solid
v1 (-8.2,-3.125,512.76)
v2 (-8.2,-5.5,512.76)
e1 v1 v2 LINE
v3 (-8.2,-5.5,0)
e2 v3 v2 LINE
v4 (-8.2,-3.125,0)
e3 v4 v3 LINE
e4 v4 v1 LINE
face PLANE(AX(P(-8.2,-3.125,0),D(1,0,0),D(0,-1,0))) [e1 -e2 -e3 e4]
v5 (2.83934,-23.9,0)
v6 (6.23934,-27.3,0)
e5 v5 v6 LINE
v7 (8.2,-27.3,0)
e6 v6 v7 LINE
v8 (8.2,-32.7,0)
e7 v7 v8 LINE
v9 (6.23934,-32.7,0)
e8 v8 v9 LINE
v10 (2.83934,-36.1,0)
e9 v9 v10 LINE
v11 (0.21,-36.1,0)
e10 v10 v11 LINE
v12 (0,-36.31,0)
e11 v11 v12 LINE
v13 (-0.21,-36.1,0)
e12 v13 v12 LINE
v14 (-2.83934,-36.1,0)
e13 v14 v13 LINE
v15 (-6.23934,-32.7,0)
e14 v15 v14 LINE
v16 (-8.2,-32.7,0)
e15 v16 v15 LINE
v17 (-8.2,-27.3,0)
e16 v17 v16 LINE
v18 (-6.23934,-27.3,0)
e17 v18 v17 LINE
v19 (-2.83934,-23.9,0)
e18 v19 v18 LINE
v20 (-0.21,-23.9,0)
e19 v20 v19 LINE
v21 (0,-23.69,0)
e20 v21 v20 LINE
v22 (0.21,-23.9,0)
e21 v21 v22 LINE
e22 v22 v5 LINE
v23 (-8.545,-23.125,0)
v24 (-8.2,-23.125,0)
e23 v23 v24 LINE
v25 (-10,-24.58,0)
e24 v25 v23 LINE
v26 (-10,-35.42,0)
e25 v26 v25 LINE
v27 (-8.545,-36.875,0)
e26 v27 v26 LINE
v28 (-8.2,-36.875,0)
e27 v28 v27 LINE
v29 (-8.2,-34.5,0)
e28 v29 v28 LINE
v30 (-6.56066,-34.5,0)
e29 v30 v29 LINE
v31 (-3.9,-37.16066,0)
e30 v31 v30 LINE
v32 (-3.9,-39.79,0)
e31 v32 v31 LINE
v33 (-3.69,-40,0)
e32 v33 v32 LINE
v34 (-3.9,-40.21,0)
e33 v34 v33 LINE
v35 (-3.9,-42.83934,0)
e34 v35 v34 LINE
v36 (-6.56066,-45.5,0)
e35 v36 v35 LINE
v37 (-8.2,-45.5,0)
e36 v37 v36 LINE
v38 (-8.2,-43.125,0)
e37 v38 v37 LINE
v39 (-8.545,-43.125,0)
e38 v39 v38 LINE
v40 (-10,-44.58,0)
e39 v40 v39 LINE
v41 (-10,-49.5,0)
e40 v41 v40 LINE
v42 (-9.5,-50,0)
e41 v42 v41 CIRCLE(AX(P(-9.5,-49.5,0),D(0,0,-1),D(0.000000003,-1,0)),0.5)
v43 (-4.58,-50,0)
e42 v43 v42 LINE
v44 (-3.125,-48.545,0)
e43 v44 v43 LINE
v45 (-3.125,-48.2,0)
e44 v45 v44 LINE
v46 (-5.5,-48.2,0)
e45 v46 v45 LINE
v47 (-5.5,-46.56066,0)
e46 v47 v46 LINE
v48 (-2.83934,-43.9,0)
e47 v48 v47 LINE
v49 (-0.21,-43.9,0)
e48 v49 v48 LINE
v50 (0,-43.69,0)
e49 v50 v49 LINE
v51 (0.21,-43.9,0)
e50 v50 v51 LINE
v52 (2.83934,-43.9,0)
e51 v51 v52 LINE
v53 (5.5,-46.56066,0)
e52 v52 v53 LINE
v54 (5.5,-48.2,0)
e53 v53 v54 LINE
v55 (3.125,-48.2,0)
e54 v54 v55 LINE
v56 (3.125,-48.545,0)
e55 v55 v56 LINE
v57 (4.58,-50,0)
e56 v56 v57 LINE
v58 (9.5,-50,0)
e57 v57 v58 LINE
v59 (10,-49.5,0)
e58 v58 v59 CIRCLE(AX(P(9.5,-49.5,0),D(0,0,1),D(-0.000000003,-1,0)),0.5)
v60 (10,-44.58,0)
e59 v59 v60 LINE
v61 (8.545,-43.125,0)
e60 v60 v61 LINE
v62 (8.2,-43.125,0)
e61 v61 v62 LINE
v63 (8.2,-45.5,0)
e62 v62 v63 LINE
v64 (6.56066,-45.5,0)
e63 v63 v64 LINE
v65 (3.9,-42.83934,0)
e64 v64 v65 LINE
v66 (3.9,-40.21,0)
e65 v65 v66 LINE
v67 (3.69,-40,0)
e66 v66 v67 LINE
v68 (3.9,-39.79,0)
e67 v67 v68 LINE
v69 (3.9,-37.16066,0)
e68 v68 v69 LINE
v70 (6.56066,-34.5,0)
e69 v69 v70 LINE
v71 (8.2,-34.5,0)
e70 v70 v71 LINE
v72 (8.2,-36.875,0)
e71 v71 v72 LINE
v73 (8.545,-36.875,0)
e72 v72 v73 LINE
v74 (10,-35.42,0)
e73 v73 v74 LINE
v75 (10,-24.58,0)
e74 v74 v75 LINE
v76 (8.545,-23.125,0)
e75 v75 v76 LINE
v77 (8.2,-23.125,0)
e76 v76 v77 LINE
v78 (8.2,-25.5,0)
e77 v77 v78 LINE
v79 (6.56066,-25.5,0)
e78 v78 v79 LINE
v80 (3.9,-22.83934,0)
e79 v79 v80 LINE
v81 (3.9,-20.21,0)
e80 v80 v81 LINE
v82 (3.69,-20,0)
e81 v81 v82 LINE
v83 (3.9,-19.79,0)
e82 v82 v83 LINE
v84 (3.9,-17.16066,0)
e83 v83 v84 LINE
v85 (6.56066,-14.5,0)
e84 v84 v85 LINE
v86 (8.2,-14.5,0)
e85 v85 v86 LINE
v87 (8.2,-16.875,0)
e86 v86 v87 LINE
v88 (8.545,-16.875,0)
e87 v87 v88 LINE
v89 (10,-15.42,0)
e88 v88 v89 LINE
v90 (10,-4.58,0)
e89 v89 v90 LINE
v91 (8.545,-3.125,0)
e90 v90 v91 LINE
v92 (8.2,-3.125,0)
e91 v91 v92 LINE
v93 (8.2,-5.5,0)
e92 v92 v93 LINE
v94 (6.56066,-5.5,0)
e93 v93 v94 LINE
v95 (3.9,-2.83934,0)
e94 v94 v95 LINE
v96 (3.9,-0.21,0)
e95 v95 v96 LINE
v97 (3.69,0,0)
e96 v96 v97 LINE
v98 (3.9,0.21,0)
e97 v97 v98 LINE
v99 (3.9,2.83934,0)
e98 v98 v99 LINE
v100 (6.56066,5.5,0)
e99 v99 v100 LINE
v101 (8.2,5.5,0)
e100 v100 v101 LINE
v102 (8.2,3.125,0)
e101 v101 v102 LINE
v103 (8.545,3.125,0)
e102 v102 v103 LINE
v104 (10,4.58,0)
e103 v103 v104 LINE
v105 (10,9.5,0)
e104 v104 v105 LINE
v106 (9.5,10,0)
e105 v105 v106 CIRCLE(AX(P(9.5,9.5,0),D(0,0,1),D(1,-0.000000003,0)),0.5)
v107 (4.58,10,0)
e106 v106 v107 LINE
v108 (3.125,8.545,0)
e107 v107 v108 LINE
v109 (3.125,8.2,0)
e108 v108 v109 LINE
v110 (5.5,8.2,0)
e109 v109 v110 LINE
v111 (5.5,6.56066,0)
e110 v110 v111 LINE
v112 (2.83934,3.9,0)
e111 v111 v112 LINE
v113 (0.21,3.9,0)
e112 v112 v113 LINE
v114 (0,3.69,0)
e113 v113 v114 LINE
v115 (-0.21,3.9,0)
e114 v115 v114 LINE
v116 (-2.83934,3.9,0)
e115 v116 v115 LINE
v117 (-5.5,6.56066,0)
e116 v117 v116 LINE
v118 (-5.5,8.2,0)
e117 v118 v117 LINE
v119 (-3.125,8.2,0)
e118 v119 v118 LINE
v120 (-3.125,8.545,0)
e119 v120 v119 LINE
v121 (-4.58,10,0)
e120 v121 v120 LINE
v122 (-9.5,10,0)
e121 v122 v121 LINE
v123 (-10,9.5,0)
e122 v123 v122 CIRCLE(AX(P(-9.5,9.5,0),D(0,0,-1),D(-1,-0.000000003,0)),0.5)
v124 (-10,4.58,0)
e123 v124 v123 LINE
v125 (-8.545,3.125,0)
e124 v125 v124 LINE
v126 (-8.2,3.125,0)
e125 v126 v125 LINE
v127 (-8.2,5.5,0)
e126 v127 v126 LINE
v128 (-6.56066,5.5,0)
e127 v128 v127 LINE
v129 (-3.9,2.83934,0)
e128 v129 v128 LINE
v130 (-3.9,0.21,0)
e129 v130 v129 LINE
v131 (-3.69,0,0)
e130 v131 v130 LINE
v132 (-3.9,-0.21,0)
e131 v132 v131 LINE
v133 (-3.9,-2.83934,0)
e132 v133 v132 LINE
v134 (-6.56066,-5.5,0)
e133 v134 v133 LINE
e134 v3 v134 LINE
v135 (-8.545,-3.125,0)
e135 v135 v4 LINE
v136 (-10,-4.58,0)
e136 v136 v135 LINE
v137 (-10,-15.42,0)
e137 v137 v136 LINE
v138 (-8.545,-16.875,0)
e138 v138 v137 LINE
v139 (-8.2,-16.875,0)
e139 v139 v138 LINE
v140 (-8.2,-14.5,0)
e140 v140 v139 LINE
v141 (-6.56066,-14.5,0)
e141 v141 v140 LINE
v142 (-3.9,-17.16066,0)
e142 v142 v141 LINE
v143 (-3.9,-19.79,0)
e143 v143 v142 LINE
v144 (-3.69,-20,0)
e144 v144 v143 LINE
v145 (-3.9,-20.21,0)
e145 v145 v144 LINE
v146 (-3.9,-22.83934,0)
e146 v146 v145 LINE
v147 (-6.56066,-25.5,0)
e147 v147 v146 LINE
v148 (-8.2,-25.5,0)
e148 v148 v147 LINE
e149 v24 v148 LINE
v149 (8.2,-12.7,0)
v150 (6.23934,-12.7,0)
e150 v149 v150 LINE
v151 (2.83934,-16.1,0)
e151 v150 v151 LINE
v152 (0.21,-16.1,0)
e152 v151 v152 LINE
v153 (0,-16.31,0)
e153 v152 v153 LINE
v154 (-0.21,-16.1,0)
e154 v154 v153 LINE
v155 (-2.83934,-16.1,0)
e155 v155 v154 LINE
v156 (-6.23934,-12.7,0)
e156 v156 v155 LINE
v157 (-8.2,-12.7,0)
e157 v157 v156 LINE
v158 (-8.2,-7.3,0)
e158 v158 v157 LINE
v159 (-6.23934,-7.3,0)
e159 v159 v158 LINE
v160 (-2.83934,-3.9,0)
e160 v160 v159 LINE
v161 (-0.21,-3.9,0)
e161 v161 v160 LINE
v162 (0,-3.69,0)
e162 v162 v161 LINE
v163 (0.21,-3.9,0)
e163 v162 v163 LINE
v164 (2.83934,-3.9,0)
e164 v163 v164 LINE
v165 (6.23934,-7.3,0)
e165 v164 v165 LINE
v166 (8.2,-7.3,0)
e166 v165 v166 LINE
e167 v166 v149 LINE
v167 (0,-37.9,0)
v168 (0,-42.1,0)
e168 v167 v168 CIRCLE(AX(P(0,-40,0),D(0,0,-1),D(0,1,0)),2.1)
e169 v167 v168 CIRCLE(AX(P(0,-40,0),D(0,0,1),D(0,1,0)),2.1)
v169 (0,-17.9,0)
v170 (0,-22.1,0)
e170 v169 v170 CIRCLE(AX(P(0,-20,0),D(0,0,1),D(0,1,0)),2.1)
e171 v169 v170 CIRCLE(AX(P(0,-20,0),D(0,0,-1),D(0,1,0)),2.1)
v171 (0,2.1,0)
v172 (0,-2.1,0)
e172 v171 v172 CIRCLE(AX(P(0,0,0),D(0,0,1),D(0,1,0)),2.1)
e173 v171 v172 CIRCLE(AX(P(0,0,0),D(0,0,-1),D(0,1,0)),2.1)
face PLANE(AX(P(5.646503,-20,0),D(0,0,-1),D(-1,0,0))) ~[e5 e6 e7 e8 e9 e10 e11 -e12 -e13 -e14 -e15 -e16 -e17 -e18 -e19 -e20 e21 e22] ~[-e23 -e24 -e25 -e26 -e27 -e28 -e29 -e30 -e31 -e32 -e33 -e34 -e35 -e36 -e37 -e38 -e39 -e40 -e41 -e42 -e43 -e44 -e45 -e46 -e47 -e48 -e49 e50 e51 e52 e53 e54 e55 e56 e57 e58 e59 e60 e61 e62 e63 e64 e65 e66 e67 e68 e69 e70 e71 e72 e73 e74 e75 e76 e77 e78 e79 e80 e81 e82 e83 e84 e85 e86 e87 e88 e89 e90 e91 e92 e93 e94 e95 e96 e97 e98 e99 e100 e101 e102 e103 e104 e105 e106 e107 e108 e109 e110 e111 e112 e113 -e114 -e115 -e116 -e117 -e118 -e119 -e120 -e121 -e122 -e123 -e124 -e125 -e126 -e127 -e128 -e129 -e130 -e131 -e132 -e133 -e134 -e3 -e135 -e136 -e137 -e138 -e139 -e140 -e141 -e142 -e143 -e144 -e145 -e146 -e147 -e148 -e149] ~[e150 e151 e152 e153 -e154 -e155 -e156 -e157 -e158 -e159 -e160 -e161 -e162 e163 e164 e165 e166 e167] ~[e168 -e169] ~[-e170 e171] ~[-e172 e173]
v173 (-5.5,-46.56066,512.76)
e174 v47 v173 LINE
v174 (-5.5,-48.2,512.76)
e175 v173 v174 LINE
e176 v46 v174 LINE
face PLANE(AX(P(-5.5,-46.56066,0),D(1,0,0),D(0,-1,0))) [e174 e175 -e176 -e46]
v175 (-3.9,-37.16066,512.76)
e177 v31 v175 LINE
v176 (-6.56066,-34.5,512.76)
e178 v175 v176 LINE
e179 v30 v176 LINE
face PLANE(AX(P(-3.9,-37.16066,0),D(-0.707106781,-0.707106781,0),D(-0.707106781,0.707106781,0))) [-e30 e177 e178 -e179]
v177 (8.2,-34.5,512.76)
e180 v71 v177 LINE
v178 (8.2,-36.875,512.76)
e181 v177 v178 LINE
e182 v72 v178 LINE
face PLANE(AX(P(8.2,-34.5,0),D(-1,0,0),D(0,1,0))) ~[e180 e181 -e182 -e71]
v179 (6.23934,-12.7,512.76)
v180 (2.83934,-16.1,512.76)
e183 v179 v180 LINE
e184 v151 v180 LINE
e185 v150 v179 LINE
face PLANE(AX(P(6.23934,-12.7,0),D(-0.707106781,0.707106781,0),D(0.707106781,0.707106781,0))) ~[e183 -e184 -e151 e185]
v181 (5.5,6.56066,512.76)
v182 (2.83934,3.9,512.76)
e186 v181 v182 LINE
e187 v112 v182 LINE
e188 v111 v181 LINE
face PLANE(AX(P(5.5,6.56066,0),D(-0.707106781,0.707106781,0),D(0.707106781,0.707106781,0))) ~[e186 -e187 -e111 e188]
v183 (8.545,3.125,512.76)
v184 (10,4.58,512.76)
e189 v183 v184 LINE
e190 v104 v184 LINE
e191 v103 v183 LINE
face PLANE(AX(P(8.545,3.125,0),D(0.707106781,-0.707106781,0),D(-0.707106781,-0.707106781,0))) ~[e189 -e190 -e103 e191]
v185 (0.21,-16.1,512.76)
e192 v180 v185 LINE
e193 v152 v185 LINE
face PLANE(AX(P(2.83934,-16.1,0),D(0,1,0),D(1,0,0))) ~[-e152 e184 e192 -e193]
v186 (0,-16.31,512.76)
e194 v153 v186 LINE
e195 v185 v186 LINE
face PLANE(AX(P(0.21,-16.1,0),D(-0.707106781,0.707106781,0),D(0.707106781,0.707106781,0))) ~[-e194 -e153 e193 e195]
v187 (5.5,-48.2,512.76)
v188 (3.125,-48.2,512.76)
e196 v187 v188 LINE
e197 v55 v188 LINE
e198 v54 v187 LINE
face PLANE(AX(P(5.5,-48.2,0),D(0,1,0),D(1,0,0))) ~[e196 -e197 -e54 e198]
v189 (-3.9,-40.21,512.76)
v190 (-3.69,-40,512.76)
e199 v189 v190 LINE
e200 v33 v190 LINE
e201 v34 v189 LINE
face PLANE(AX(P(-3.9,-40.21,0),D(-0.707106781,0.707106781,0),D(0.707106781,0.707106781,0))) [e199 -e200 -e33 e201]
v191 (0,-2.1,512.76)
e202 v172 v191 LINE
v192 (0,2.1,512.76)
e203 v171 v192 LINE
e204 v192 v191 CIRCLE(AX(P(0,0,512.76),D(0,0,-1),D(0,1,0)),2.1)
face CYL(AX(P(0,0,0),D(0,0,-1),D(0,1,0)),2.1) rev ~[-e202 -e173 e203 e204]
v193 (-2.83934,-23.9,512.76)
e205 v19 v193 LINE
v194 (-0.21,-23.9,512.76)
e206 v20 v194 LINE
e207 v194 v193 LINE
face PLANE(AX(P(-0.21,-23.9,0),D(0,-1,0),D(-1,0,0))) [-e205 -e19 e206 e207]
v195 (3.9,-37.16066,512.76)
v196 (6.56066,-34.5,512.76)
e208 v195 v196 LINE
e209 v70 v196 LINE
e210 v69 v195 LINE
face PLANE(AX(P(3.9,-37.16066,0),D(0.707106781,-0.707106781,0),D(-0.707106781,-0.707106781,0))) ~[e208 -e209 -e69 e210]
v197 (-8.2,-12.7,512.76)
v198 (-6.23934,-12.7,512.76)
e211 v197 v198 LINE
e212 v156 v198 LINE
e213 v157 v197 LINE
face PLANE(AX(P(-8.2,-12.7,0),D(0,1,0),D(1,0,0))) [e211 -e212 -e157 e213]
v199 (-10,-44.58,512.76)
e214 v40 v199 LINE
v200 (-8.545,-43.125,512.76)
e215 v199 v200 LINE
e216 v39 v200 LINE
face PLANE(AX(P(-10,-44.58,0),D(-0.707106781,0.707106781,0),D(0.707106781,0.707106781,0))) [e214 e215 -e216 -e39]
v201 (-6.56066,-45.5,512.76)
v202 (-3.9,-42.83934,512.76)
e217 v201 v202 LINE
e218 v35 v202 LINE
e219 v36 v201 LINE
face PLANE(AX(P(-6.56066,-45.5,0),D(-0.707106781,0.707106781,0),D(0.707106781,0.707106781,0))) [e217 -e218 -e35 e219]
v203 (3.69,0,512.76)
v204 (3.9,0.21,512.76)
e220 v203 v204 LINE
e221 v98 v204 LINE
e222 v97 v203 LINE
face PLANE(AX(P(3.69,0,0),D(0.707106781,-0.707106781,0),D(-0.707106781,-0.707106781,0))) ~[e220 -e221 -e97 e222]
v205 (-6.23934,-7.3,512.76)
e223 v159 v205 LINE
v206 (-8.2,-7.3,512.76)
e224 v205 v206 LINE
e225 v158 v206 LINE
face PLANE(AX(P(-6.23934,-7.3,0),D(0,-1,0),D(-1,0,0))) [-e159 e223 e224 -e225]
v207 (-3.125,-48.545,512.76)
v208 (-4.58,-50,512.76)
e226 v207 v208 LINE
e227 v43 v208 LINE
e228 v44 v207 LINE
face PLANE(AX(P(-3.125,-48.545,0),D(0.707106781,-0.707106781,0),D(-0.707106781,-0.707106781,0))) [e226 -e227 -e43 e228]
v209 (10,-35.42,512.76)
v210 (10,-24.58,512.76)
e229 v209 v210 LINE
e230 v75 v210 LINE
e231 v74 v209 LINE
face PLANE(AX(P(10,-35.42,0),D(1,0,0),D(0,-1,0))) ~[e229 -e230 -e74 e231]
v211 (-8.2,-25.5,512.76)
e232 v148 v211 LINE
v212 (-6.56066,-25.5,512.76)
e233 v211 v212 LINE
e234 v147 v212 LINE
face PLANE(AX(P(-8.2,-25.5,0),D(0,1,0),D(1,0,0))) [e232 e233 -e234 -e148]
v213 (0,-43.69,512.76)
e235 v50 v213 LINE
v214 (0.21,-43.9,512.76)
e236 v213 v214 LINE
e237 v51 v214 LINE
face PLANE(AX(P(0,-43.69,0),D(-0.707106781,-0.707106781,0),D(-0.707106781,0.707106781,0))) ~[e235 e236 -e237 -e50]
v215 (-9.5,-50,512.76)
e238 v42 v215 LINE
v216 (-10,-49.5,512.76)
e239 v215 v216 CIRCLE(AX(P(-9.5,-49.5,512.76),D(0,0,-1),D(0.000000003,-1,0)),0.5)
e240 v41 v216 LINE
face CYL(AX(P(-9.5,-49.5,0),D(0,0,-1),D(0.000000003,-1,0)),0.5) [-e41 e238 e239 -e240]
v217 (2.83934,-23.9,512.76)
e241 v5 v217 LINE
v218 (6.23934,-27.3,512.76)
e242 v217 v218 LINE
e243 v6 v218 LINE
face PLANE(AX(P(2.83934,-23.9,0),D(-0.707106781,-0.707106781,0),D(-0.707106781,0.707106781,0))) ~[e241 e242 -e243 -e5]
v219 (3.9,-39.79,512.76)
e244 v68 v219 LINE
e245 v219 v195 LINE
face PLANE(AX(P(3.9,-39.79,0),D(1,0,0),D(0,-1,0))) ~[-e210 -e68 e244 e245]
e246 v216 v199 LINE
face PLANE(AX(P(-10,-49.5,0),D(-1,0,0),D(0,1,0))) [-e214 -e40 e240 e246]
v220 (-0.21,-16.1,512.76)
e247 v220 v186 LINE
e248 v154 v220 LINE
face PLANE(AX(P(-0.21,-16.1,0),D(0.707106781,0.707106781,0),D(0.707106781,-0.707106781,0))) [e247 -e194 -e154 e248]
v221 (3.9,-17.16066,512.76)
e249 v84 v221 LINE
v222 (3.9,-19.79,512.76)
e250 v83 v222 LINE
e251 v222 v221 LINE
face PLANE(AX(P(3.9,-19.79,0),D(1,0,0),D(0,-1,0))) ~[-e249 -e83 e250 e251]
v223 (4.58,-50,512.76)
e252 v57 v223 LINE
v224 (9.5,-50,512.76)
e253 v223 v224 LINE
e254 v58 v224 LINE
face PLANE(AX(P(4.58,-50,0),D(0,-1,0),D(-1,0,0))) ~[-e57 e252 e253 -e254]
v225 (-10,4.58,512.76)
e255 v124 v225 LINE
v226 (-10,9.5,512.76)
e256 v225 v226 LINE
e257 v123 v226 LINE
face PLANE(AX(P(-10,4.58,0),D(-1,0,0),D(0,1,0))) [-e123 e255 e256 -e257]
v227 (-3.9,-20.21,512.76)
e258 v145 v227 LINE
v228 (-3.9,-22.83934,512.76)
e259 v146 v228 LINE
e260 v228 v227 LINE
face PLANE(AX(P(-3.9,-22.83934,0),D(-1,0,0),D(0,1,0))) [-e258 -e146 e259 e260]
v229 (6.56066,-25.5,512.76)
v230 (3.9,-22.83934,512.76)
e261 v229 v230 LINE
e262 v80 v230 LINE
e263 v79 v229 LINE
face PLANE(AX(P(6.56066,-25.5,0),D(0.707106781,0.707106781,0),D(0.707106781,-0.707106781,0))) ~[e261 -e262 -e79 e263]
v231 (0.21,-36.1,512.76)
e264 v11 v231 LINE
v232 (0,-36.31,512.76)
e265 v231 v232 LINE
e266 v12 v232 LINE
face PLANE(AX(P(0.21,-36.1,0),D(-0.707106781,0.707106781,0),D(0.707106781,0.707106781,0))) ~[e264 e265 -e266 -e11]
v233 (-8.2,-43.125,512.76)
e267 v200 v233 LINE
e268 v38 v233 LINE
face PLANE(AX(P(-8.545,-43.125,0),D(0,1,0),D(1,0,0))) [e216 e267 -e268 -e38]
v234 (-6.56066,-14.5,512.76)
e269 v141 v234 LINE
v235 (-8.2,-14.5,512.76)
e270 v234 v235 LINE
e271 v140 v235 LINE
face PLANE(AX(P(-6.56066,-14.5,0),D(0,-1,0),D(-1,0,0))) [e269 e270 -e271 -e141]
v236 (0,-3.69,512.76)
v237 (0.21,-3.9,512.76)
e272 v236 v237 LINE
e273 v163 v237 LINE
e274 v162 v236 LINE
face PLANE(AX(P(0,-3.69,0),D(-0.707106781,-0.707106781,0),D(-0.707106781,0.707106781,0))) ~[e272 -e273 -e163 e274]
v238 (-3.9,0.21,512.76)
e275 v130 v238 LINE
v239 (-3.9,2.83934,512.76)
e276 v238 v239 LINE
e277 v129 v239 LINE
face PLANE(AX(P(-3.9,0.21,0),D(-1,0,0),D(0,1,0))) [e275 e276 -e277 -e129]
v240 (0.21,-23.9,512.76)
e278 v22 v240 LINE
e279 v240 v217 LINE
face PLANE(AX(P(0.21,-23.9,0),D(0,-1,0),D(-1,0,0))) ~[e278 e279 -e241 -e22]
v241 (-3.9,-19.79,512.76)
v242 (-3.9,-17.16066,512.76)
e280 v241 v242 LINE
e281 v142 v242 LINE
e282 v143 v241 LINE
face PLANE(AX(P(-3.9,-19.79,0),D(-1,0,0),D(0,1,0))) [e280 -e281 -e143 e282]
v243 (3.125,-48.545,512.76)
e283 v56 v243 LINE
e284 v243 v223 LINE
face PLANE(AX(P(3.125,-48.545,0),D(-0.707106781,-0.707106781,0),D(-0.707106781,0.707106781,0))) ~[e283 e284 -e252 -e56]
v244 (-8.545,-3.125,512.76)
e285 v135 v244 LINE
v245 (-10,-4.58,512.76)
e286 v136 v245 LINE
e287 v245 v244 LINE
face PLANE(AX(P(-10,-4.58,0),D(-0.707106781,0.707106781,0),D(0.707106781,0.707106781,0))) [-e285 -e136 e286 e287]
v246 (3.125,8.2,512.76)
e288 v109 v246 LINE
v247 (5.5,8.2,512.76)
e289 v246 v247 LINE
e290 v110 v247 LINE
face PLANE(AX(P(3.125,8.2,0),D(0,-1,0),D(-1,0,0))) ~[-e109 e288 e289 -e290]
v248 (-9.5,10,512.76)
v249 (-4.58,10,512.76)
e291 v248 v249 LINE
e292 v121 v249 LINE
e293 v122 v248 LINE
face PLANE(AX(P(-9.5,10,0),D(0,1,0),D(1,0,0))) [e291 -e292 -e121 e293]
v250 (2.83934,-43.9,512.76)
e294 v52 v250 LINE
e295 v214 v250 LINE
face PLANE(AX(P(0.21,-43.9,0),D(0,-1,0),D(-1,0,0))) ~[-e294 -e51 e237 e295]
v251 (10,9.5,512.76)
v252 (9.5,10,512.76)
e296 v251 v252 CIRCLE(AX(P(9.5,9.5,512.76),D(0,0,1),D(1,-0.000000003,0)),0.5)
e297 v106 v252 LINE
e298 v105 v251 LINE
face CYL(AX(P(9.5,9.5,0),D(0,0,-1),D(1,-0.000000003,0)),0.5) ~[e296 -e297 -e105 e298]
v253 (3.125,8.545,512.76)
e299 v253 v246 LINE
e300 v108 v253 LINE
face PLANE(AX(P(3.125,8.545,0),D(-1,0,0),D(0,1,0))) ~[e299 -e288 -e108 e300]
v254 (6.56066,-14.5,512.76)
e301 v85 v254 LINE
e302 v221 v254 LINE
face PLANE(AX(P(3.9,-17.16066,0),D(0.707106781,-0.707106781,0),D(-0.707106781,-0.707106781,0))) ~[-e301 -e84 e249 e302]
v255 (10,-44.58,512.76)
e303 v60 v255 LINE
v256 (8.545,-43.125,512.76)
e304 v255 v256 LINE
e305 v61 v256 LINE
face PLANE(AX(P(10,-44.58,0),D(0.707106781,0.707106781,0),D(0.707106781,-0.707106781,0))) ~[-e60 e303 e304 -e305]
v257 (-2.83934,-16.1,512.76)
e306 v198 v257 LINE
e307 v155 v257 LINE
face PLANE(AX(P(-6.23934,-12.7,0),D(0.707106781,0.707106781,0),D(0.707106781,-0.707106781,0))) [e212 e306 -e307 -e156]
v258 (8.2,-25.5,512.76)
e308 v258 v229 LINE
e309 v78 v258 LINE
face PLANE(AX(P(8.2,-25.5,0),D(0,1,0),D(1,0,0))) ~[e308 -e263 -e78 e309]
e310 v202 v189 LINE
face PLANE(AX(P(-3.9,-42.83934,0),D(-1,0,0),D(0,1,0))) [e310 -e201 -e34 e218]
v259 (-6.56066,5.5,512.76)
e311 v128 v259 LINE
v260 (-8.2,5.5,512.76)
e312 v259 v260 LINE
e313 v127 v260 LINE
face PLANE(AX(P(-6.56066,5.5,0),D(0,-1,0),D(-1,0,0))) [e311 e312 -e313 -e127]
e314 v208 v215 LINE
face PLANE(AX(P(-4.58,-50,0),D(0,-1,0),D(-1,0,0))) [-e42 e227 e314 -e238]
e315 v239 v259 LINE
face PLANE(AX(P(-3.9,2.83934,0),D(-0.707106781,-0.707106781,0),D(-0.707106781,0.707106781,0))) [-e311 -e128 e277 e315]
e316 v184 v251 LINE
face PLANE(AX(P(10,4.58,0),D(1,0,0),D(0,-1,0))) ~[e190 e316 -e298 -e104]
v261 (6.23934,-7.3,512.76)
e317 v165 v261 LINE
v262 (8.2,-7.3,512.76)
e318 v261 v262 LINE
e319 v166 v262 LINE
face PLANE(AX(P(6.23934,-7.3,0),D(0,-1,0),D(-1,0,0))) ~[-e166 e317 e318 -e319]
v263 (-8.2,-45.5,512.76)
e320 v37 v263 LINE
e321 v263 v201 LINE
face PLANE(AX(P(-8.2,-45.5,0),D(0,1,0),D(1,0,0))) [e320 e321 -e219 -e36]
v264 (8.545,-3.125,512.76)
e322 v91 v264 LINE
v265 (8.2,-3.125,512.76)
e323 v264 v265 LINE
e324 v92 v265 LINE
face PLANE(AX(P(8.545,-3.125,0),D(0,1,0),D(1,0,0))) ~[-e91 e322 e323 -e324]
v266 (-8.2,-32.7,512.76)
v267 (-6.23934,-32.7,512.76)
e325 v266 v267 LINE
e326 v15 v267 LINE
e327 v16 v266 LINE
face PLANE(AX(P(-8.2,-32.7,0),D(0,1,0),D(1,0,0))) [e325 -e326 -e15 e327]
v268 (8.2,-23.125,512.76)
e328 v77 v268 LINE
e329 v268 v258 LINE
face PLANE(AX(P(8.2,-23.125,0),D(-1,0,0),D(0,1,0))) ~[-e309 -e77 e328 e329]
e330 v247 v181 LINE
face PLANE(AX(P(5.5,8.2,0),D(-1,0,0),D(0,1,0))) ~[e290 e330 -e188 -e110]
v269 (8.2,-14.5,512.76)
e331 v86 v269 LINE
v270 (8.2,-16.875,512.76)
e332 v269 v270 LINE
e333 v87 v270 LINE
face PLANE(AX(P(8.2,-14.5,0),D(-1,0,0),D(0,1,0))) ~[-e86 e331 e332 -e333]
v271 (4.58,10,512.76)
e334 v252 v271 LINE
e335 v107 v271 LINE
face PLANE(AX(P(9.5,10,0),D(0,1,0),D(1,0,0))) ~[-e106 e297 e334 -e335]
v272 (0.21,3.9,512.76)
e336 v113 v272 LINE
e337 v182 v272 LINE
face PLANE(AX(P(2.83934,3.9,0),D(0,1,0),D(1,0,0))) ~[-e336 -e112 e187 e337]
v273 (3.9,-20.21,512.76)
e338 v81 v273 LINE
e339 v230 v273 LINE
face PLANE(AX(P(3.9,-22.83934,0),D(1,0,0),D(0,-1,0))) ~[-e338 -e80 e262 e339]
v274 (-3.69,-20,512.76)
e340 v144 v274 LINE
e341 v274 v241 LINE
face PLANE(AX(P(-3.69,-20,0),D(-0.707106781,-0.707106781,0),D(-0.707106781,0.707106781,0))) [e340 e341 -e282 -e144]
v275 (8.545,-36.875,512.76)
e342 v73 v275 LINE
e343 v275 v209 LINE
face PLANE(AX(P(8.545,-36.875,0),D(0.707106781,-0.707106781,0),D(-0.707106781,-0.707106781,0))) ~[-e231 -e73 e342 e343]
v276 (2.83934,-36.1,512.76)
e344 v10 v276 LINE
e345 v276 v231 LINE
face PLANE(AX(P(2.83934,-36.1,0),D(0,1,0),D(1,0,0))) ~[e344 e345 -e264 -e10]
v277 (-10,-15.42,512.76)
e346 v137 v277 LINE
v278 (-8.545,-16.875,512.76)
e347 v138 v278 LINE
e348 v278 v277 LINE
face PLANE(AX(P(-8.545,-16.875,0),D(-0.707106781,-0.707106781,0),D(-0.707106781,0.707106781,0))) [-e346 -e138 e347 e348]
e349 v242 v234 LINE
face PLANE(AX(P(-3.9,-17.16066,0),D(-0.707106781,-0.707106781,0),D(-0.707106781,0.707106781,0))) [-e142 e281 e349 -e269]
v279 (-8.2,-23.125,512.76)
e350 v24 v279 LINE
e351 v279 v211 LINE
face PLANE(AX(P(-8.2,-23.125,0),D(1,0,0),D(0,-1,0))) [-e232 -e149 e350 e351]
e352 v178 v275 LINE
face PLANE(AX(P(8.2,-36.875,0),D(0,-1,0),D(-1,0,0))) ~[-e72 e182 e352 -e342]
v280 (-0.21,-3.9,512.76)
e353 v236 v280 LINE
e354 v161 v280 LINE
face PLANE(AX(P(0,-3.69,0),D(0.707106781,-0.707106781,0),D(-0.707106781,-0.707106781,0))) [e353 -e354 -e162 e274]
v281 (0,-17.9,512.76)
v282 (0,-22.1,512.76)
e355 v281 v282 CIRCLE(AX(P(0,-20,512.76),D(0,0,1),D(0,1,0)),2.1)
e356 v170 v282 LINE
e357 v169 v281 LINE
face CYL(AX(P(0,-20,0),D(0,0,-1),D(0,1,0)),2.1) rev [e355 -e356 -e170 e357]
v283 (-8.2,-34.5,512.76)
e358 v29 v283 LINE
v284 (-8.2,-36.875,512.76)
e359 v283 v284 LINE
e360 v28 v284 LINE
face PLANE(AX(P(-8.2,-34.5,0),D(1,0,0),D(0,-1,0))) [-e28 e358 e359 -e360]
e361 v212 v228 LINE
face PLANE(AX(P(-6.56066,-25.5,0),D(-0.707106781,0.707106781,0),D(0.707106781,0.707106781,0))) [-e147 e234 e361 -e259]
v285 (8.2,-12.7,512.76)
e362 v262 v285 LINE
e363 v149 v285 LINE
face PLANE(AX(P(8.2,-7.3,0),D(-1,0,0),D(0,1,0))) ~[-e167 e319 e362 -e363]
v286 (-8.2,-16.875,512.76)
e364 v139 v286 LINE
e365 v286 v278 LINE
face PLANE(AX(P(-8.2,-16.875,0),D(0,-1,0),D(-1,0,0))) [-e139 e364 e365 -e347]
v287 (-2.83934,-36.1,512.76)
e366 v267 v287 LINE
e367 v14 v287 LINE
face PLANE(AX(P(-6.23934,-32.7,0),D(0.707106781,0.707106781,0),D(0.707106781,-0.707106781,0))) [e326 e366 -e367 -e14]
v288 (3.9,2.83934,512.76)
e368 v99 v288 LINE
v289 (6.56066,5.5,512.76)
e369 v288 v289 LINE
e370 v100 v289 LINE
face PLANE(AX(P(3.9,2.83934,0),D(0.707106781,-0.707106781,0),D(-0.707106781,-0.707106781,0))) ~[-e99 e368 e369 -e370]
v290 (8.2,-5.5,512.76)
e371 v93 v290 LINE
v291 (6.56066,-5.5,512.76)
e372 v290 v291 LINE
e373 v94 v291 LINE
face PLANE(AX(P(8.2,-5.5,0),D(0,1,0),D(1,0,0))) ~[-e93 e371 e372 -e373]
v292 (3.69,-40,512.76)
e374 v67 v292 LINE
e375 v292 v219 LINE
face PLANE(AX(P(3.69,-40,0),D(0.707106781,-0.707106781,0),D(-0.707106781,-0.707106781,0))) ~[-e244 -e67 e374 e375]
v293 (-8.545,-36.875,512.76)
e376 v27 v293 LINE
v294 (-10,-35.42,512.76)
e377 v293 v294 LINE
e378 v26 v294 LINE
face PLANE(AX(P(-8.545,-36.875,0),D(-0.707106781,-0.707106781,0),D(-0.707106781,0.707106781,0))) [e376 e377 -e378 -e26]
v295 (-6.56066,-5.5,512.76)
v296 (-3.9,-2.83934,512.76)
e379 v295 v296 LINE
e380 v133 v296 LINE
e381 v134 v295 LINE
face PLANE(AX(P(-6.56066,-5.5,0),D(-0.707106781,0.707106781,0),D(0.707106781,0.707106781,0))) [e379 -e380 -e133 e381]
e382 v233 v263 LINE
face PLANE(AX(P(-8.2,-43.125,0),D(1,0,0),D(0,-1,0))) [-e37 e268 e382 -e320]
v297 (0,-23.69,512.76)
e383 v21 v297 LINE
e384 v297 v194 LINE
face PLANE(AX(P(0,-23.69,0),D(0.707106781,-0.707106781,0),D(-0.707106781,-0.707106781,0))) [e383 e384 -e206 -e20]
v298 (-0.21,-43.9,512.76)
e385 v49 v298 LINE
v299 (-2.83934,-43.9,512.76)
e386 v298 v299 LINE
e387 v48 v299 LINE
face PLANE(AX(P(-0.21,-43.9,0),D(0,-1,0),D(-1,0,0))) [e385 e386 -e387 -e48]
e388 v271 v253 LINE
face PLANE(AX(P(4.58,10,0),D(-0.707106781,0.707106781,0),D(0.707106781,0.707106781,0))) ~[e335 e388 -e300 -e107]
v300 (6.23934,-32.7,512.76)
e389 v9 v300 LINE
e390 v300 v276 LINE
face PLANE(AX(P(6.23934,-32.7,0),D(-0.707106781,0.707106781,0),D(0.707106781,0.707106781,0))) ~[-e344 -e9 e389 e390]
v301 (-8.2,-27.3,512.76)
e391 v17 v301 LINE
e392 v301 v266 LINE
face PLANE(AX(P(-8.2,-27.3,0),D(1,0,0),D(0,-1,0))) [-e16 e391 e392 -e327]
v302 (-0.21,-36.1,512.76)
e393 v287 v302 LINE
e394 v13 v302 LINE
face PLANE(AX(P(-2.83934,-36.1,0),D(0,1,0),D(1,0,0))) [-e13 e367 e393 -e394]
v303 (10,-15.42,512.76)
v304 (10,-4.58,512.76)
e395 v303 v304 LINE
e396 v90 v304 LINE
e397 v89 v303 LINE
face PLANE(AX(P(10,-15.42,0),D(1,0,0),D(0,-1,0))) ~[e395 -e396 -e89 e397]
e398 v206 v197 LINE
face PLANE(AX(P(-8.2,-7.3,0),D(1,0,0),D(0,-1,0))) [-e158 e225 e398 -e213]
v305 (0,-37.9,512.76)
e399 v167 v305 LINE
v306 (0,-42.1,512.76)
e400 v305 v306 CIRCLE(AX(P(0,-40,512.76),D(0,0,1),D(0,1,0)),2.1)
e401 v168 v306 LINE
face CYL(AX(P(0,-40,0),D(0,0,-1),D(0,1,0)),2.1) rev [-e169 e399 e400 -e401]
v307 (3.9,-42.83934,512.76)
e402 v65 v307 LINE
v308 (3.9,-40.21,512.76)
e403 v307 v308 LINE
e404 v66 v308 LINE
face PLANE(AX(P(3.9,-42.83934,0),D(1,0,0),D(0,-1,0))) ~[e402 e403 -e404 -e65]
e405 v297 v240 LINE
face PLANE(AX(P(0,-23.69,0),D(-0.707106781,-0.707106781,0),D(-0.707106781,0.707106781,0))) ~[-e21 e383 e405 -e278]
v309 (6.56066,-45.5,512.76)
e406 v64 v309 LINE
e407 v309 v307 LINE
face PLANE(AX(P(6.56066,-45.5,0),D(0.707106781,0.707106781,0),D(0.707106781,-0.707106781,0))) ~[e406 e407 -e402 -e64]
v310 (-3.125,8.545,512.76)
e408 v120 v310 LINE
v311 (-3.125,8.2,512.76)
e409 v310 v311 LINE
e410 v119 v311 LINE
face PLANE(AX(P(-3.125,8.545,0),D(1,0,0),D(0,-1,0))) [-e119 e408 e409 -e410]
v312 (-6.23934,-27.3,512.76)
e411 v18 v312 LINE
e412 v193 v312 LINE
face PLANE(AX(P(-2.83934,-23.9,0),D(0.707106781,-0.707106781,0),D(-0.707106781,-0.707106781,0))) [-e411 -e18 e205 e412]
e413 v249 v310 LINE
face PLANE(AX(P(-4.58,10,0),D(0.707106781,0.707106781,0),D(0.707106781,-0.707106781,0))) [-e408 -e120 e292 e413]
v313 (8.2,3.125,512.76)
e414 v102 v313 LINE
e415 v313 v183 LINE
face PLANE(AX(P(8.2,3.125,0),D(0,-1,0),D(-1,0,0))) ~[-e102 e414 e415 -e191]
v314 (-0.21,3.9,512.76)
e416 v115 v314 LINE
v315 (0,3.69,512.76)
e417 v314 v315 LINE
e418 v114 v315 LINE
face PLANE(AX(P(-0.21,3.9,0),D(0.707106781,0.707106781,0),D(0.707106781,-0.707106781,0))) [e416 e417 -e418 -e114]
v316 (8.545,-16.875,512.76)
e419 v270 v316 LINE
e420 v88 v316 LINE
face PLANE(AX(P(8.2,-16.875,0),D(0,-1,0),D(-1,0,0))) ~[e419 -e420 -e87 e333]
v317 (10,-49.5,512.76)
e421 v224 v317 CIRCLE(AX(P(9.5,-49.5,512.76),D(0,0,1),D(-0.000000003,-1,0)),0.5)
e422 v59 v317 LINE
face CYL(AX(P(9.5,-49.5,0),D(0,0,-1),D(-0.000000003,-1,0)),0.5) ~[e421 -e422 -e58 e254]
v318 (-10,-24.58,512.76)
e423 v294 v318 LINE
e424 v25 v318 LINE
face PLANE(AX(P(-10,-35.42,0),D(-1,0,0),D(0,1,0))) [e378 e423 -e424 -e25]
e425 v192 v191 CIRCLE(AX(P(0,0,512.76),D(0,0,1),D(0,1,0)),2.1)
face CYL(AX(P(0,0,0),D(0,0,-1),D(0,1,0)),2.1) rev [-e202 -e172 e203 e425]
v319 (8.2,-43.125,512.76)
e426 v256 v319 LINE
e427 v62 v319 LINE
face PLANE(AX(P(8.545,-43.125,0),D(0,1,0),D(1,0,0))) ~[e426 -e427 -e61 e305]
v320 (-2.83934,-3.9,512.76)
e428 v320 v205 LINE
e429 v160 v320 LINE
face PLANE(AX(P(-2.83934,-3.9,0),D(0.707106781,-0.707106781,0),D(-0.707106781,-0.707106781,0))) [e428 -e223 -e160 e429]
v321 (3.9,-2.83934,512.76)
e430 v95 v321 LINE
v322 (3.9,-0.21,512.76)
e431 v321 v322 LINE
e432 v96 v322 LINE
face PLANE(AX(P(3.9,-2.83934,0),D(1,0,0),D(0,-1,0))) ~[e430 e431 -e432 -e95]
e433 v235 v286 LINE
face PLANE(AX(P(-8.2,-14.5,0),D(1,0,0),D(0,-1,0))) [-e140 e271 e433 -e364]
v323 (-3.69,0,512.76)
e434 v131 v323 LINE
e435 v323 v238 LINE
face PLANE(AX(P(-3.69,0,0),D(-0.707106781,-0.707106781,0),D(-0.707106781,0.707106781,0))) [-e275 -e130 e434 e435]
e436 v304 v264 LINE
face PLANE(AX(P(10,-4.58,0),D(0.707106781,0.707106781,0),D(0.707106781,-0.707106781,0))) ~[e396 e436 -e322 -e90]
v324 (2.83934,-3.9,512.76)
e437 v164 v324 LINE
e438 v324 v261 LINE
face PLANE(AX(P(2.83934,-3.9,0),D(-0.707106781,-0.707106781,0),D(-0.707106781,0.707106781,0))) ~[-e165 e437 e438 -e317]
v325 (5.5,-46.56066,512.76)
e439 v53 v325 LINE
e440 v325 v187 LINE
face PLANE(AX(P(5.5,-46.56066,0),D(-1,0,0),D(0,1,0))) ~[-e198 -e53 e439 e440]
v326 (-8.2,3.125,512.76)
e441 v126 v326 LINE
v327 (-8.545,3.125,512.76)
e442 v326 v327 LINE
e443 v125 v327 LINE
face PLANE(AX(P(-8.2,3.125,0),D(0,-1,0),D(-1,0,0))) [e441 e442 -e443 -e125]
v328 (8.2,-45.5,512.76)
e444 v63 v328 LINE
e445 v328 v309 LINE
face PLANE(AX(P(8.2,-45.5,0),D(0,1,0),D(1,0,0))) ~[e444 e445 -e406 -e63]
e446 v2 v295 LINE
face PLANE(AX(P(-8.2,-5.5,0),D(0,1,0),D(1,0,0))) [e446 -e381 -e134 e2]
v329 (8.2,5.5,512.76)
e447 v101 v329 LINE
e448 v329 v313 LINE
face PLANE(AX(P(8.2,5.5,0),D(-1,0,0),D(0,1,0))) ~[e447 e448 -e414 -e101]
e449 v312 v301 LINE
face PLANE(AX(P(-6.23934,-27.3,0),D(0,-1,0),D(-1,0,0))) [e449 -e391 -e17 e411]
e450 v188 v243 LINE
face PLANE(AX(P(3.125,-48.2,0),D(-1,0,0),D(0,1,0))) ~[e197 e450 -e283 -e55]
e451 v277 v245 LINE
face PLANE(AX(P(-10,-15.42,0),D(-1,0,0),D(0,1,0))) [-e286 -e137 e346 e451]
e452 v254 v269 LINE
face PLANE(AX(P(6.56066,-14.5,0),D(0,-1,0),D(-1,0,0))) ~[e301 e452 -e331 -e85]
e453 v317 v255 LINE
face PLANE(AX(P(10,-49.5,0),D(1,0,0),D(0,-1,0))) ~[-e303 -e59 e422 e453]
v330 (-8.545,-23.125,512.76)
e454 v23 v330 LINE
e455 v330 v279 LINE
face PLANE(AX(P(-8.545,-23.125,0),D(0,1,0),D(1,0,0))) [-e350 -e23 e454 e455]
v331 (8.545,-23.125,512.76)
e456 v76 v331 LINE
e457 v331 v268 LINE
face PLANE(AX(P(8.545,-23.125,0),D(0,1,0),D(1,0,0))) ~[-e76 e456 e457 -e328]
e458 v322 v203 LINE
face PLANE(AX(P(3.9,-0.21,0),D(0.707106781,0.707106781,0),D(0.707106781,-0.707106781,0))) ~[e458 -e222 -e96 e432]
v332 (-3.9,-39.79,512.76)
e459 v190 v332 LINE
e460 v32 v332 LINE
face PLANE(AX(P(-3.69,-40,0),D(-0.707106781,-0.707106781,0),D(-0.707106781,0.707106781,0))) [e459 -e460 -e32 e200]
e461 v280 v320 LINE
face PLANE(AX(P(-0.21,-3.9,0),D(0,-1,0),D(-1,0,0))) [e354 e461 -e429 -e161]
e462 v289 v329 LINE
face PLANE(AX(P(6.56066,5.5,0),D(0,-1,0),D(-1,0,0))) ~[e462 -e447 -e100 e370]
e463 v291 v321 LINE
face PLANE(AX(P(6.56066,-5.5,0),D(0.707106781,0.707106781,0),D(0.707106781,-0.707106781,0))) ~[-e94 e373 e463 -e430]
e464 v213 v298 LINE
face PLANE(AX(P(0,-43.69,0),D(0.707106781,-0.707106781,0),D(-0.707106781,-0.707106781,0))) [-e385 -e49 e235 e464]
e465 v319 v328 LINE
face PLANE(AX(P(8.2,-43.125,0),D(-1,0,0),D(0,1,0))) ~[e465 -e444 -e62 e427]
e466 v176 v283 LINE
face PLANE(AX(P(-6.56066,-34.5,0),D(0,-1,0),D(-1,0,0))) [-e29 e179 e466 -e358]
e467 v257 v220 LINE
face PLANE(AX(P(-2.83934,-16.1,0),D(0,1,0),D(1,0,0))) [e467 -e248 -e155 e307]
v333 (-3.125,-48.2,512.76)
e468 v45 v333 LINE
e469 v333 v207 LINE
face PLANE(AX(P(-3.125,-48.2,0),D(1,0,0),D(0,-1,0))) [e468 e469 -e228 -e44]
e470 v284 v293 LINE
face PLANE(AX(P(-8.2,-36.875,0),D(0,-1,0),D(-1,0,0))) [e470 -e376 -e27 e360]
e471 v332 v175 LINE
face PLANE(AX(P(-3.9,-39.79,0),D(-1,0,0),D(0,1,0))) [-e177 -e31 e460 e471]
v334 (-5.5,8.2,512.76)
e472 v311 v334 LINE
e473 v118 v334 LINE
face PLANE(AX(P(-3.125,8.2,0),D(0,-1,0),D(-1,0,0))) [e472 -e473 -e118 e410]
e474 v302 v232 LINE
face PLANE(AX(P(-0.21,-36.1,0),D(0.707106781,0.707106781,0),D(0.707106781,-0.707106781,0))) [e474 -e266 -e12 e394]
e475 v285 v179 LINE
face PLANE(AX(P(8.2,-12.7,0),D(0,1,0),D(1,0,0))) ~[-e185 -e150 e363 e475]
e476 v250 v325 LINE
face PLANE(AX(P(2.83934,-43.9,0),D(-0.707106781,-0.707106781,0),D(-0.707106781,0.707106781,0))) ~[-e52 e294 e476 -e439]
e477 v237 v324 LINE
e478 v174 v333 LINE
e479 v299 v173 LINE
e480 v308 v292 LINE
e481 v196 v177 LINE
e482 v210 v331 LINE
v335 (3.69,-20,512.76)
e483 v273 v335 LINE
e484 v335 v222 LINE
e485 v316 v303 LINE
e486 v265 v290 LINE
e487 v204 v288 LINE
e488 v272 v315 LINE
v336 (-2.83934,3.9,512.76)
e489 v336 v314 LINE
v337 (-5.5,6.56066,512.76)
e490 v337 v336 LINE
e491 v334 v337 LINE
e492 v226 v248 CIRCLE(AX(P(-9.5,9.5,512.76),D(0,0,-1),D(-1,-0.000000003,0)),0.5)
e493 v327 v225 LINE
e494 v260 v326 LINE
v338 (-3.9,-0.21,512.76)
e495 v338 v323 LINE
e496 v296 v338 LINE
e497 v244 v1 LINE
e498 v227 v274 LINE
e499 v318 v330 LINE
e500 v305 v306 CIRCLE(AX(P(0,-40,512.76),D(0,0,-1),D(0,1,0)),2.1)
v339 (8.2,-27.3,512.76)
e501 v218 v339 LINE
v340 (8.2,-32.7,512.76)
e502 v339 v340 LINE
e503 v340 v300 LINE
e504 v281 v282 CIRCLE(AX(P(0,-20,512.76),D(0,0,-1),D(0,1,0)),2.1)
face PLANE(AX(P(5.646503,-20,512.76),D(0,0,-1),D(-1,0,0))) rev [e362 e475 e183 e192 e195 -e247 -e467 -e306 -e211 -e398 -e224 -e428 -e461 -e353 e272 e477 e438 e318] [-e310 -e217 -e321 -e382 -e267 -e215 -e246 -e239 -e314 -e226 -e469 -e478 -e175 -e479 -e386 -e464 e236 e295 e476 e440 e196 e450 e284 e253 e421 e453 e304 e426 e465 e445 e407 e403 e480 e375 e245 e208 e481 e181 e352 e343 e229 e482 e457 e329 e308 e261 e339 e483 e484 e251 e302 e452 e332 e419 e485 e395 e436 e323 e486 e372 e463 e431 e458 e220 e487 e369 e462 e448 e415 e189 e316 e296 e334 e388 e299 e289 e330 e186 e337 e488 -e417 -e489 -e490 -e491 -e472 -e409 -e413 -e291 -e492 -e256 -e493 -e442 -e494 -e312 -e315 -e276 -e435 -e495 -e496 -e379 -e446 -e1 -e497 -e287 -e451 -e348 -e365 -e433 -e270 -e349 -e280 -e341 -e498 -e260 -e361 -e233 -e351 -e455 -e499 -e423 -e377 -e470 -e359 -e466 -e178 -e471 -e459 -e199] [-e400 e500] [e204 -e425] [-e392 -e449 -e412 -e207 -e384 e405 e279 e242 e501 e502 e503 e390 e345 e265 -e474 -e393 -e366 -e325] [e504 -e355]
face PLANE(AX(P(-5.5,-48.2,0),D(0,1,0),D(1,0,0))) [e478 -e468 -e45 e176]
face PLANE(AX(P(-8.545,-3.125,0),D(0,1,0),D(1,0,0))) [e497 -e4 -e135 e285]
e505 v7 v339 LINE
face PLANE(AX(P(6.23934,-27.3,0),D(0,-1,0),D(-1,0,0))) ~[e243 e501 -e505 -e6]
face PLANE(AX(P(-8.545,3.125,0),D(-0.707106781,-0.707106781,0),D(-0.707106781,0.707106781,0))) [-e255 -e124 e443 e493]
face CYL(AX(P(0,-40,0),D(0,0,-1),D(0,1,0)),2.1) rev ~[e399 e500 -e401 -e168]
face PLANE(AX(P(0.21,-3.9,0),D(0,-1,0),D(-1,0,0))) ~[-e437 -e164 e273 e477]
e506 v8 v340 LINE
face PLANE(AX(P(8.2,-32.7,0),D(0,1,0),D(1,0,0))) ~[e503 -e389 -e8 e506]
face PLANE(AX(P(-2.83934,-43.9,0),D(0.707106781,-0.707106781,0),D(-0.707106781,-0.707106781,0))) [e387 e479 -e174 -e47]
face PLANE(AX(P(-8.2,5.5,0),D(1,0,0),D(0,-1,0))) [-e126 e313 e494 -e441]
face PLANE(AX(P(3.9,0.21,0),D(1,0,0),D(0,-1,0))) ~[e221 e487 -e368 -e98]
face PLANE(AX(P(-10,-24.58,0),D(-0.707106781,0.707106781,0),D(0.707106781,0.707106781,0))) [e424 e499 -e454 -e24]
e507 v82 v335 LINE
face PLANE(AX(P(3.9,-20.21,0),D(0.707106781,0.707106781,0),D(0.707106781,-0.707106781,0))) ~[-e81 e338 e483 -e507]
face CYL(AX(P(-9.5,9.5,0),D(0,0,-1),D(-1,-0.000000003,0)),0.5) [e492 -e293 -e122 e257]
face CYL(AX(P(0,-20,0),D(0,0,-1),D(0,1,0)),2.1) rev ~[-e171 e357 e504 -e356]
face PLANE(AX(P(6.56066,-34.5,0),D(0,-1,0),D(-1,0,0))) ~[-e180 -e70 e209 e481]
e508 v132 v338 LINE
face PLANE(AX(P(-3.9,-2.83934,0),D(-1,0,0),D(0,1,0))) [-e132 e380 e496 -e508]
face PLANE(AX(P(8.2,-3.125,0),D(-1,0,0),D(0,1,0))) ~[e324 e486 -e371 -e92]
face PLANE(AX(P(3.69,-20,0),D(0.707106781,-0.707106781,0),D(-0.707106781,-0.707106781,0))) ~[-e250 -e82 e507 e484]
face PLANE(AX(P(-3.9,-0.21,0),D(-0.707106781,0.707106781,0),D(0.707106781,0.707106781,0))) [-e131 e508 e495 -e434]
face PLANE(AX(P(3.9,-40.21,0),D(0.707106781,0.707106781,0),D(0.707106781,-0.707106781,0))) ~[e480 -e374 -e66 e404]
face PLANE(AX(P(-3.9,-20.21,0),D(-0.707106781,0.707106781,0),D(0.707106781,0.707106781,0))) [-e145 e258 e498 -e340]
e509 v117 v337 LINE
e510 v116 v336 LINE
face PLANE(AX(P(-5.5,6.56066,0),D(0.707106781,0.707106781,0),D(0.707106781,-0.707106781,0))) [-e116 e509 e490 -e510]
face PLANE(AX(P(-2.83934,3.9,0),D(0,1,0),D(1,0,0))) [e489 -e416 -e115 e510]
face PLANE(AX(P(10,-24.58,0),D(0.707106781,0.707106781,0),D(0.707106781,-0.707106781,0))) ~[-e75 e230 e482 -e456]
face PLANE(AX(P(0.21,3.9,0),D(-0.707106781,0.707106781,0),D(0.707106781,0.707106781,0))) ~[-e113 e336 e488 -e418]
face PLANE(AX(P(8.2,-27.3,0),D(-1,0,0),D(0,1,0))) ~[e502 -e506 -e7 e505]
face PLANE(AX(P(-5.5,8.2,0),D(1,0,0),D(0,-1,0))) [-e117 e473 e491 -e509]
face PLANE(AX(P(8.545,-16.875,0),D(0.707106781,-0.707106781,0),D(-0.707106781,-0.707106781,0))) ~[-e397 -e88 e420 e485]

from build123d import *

# Parameters (mm, degrees)
BOSS_EXTRU_1_DEPTH = 512.76


with BuildPart() as part:
    # Esquisse1 → Boss.-Extru.1 (new body)
    with BuildSketch(Plane.XY):
        with BuildLine():
            Line((-9.5, 10), (-4.58, 10))
            Line((-4.58, 10), (-3.125, 8.545))
            Line((-3.125, 8.545), (-3.125, 8.2))
            Line((-3.125, 8.2), (-5.5, 8.2))
            Line((-5.5, 8.2), (-5.5, 6.560660172))
            Line((-5.5, 6.560660172), (-2.839339828, 3.9))
            Line((-2.839339828, 3.9), (-0.21, 3.9))
            Line((-0.21, 3.9), (0, 3.69))
            Line((0, 3.69), (0, 2.1))
            ThreePointArc((0, 2.1), (-2.1, 0), (0, -2.1))
            Line((0, -2.1), (0, -3.69))
            Line((0, -3.69), (-0.21, -3.9))
            Line((-0.21, -3.9), (-2.839339828, -3.9))
            Line((-2.839339828, -3.9), (-6.239339828, -7.3))
            Line((-6.239339828, -7.3), (-8.2, -7.3))
            Line((-8.2, -7.3), (-8.2, -12.7))
            Line((-8.2, -12.7), (-6.239339828, -12.7))
            Line((-6.239339828, -12.7), (-2.839339828, -16.1))
            Line((-2.839339828, -16.1), (-0.21, -16.1))
            Line((-0.21, -16.1), (0, -16.31))
            Line((0, -16.31), (0, -17.9))
            ThreePointArc((0, -17.9), (-2.1, -20), (0, -22.1))
            Line((0, -22.1), (0, -23.69))
            Line((0, -23.69), (-0.21, -23.9))
            Line((-0.21, -23.9), (-2.839339828, -23.9))
            Line((-2.839339828, -23.9), (-6.239339828, -27.3))
            Line((-6.239339828, -27.3), (-8.2, -27.3))
            Line((-8.2, -27.3), (-8.2, -32.7))
            Line((-8.2, -32.7), (-6.239339828, -32.7))
            Line((-6.239339828, -32.7), (-2.839339828, -36.1))
            Line((-2.839339828, -36.1), (-0.21, -36.1))
            Line((-0.21, -36.1), (0, -36.31))
            Line((0, -36.31), (0, -37.9))
            ThreePointArc((0, -37.9), (-2.1, -40), (0, -42.1))
            Line((0, -42.1), (0, -43.69))
            Line((0, -43.69), (-0.21, -43.9))
            Line((-0.21, -43.9), (-2.839339828, -43.9))
            Line((-2.839339828, -43.9), (-5.5, -46.560660172))
            Line((-5.5, -46.560660172), (-5.5, -48.2))
            Line((-5.5, -48.2), (-3.125, -48.2))
            Line((-3.125, -48.2), (-3.125, -48.545))
            Line((-3.125, -48.545), (-4.58, -50))
            Line((-4.58, -50), (-9.5, -50))
            ThreePointArc((-9.5, -50), (-9.853553391, -49.853553391), (-10, -49.5))
            Line((-10, -49.5), (-10, -44.58))
            Line((-10, -44.58), (-8.545, -43.125))
            Line((-8.545, -43.125), (-8.2, -43.125))
            Line((-8.2, -43.125), (-8.2, -45.5))
            Line((-8.2, -45.5), (-6.560660172, -45.5))
            Line((-6.560660172, -45.5), (-3.9, -42.839339828))
            Line((-3.9, -42.839339828), (-3.9, -40.21))
            Line((-3.9, -40.21), (-3.69, -40))
            Line((-3.69, -40), (-3.9, -39.79))
            Line((-3.9, -39.79), (-3.9, -37.160660172))
            Line((-3.9, -37.160660172), (-6.560660172, -34.5))
            Line((-6.560660172, -34.5), (-8.2, -34.5))
            Line((-8.2, -34.5), (-8.2, -36.875))
            Line((-8.2, -36.875), (-8.545, -36.875))
            Line((-8.545, -36.875), (-10, -35.42))
            Line((-10, -35.42), (-10, -24.58))
            Line((-10, -24.58), (-8.545, -23.125))
            Line((-8.545, -23.125), (-8.2, -23.125))
            Line((-8.2, -23.125), (-8.2, -25.5))
            Line((-8.2, -25.5), (-6.560660172, -25.5))
            Line((-6.560660172, -25.5), (-3.9, -22.839339828))
            Line((-3.9, -22.839339828), (-3.9, -20.21))
            Line((-3.9, -20.21), (-3.69, -20))
            Line((-3.69, -20), (-3.9, -19.79))
            Line((-3.9, -19.79), (-3.9, -17.160660172))
            Line((-3.9, -17.160660172), (-6.560660172, -14.5))
            Line((-6.560660172, -14.5), (-8.2, -14.5))
            Line((-8.2, -14.5), (-8.2, -16.875))
            Line((-8.2, -16.875), (-8.545, -16.875))
            Line((-8.545, -16.875), (-10, -15.42))
            Line((-10, -15.42), (-10, -4.58))
            Line((-10, -4.58), (-8.545, -3.125))
            Line((-8.545, -3.125), (-8.2, -3.125))
            Line((-8.2, -3.125), (-8.2, -5.5))
            Line((-8.2, -5.5), (-6.560660172, -5.5))
            Line((-6.560660172, -5.5), (-3.9, -2.839339828))
            Line((-3.9, -2.839339828), (-3.9, -0.21))
            Line((-3.9, -0.21), (-3.69, 0))
            Line((-3.69, 0), (-3.9, 0.21))
            Line((-3.9, 0.21), (-3.9, 2.839339828))
            Line((-3.9, 2.839339828), (-6.560660172, 5.5))
            Line((-6.560660172, 5.5), (-8.2, 5.5))
            Line((-8.2, 5.5), (-8.2, 3.125))
            Line((-8.2, 3.125), (-8.545, 3.125))
            Line((-8.545, 3.125), (-10, 4.58))
            Line((-10, 4.58), (-10, 9.5))
            ThreePointArc((-10, 9.5), (-9.853553391, 9.853553391), (-9.5, 10))
        make_face()
    boss_extru_1 = extrude(amount=BOSS_EXTRU_1_DEPTH)

    # Symétrie1: Boss.-Extru.1 across plane
    add(boss_extru_1.mirror(Plane(origin=(0, 3.69, 512.76), x_dir=(0, 0, 1), z_dir=(-1, 0, 0))))


solid = part.part
